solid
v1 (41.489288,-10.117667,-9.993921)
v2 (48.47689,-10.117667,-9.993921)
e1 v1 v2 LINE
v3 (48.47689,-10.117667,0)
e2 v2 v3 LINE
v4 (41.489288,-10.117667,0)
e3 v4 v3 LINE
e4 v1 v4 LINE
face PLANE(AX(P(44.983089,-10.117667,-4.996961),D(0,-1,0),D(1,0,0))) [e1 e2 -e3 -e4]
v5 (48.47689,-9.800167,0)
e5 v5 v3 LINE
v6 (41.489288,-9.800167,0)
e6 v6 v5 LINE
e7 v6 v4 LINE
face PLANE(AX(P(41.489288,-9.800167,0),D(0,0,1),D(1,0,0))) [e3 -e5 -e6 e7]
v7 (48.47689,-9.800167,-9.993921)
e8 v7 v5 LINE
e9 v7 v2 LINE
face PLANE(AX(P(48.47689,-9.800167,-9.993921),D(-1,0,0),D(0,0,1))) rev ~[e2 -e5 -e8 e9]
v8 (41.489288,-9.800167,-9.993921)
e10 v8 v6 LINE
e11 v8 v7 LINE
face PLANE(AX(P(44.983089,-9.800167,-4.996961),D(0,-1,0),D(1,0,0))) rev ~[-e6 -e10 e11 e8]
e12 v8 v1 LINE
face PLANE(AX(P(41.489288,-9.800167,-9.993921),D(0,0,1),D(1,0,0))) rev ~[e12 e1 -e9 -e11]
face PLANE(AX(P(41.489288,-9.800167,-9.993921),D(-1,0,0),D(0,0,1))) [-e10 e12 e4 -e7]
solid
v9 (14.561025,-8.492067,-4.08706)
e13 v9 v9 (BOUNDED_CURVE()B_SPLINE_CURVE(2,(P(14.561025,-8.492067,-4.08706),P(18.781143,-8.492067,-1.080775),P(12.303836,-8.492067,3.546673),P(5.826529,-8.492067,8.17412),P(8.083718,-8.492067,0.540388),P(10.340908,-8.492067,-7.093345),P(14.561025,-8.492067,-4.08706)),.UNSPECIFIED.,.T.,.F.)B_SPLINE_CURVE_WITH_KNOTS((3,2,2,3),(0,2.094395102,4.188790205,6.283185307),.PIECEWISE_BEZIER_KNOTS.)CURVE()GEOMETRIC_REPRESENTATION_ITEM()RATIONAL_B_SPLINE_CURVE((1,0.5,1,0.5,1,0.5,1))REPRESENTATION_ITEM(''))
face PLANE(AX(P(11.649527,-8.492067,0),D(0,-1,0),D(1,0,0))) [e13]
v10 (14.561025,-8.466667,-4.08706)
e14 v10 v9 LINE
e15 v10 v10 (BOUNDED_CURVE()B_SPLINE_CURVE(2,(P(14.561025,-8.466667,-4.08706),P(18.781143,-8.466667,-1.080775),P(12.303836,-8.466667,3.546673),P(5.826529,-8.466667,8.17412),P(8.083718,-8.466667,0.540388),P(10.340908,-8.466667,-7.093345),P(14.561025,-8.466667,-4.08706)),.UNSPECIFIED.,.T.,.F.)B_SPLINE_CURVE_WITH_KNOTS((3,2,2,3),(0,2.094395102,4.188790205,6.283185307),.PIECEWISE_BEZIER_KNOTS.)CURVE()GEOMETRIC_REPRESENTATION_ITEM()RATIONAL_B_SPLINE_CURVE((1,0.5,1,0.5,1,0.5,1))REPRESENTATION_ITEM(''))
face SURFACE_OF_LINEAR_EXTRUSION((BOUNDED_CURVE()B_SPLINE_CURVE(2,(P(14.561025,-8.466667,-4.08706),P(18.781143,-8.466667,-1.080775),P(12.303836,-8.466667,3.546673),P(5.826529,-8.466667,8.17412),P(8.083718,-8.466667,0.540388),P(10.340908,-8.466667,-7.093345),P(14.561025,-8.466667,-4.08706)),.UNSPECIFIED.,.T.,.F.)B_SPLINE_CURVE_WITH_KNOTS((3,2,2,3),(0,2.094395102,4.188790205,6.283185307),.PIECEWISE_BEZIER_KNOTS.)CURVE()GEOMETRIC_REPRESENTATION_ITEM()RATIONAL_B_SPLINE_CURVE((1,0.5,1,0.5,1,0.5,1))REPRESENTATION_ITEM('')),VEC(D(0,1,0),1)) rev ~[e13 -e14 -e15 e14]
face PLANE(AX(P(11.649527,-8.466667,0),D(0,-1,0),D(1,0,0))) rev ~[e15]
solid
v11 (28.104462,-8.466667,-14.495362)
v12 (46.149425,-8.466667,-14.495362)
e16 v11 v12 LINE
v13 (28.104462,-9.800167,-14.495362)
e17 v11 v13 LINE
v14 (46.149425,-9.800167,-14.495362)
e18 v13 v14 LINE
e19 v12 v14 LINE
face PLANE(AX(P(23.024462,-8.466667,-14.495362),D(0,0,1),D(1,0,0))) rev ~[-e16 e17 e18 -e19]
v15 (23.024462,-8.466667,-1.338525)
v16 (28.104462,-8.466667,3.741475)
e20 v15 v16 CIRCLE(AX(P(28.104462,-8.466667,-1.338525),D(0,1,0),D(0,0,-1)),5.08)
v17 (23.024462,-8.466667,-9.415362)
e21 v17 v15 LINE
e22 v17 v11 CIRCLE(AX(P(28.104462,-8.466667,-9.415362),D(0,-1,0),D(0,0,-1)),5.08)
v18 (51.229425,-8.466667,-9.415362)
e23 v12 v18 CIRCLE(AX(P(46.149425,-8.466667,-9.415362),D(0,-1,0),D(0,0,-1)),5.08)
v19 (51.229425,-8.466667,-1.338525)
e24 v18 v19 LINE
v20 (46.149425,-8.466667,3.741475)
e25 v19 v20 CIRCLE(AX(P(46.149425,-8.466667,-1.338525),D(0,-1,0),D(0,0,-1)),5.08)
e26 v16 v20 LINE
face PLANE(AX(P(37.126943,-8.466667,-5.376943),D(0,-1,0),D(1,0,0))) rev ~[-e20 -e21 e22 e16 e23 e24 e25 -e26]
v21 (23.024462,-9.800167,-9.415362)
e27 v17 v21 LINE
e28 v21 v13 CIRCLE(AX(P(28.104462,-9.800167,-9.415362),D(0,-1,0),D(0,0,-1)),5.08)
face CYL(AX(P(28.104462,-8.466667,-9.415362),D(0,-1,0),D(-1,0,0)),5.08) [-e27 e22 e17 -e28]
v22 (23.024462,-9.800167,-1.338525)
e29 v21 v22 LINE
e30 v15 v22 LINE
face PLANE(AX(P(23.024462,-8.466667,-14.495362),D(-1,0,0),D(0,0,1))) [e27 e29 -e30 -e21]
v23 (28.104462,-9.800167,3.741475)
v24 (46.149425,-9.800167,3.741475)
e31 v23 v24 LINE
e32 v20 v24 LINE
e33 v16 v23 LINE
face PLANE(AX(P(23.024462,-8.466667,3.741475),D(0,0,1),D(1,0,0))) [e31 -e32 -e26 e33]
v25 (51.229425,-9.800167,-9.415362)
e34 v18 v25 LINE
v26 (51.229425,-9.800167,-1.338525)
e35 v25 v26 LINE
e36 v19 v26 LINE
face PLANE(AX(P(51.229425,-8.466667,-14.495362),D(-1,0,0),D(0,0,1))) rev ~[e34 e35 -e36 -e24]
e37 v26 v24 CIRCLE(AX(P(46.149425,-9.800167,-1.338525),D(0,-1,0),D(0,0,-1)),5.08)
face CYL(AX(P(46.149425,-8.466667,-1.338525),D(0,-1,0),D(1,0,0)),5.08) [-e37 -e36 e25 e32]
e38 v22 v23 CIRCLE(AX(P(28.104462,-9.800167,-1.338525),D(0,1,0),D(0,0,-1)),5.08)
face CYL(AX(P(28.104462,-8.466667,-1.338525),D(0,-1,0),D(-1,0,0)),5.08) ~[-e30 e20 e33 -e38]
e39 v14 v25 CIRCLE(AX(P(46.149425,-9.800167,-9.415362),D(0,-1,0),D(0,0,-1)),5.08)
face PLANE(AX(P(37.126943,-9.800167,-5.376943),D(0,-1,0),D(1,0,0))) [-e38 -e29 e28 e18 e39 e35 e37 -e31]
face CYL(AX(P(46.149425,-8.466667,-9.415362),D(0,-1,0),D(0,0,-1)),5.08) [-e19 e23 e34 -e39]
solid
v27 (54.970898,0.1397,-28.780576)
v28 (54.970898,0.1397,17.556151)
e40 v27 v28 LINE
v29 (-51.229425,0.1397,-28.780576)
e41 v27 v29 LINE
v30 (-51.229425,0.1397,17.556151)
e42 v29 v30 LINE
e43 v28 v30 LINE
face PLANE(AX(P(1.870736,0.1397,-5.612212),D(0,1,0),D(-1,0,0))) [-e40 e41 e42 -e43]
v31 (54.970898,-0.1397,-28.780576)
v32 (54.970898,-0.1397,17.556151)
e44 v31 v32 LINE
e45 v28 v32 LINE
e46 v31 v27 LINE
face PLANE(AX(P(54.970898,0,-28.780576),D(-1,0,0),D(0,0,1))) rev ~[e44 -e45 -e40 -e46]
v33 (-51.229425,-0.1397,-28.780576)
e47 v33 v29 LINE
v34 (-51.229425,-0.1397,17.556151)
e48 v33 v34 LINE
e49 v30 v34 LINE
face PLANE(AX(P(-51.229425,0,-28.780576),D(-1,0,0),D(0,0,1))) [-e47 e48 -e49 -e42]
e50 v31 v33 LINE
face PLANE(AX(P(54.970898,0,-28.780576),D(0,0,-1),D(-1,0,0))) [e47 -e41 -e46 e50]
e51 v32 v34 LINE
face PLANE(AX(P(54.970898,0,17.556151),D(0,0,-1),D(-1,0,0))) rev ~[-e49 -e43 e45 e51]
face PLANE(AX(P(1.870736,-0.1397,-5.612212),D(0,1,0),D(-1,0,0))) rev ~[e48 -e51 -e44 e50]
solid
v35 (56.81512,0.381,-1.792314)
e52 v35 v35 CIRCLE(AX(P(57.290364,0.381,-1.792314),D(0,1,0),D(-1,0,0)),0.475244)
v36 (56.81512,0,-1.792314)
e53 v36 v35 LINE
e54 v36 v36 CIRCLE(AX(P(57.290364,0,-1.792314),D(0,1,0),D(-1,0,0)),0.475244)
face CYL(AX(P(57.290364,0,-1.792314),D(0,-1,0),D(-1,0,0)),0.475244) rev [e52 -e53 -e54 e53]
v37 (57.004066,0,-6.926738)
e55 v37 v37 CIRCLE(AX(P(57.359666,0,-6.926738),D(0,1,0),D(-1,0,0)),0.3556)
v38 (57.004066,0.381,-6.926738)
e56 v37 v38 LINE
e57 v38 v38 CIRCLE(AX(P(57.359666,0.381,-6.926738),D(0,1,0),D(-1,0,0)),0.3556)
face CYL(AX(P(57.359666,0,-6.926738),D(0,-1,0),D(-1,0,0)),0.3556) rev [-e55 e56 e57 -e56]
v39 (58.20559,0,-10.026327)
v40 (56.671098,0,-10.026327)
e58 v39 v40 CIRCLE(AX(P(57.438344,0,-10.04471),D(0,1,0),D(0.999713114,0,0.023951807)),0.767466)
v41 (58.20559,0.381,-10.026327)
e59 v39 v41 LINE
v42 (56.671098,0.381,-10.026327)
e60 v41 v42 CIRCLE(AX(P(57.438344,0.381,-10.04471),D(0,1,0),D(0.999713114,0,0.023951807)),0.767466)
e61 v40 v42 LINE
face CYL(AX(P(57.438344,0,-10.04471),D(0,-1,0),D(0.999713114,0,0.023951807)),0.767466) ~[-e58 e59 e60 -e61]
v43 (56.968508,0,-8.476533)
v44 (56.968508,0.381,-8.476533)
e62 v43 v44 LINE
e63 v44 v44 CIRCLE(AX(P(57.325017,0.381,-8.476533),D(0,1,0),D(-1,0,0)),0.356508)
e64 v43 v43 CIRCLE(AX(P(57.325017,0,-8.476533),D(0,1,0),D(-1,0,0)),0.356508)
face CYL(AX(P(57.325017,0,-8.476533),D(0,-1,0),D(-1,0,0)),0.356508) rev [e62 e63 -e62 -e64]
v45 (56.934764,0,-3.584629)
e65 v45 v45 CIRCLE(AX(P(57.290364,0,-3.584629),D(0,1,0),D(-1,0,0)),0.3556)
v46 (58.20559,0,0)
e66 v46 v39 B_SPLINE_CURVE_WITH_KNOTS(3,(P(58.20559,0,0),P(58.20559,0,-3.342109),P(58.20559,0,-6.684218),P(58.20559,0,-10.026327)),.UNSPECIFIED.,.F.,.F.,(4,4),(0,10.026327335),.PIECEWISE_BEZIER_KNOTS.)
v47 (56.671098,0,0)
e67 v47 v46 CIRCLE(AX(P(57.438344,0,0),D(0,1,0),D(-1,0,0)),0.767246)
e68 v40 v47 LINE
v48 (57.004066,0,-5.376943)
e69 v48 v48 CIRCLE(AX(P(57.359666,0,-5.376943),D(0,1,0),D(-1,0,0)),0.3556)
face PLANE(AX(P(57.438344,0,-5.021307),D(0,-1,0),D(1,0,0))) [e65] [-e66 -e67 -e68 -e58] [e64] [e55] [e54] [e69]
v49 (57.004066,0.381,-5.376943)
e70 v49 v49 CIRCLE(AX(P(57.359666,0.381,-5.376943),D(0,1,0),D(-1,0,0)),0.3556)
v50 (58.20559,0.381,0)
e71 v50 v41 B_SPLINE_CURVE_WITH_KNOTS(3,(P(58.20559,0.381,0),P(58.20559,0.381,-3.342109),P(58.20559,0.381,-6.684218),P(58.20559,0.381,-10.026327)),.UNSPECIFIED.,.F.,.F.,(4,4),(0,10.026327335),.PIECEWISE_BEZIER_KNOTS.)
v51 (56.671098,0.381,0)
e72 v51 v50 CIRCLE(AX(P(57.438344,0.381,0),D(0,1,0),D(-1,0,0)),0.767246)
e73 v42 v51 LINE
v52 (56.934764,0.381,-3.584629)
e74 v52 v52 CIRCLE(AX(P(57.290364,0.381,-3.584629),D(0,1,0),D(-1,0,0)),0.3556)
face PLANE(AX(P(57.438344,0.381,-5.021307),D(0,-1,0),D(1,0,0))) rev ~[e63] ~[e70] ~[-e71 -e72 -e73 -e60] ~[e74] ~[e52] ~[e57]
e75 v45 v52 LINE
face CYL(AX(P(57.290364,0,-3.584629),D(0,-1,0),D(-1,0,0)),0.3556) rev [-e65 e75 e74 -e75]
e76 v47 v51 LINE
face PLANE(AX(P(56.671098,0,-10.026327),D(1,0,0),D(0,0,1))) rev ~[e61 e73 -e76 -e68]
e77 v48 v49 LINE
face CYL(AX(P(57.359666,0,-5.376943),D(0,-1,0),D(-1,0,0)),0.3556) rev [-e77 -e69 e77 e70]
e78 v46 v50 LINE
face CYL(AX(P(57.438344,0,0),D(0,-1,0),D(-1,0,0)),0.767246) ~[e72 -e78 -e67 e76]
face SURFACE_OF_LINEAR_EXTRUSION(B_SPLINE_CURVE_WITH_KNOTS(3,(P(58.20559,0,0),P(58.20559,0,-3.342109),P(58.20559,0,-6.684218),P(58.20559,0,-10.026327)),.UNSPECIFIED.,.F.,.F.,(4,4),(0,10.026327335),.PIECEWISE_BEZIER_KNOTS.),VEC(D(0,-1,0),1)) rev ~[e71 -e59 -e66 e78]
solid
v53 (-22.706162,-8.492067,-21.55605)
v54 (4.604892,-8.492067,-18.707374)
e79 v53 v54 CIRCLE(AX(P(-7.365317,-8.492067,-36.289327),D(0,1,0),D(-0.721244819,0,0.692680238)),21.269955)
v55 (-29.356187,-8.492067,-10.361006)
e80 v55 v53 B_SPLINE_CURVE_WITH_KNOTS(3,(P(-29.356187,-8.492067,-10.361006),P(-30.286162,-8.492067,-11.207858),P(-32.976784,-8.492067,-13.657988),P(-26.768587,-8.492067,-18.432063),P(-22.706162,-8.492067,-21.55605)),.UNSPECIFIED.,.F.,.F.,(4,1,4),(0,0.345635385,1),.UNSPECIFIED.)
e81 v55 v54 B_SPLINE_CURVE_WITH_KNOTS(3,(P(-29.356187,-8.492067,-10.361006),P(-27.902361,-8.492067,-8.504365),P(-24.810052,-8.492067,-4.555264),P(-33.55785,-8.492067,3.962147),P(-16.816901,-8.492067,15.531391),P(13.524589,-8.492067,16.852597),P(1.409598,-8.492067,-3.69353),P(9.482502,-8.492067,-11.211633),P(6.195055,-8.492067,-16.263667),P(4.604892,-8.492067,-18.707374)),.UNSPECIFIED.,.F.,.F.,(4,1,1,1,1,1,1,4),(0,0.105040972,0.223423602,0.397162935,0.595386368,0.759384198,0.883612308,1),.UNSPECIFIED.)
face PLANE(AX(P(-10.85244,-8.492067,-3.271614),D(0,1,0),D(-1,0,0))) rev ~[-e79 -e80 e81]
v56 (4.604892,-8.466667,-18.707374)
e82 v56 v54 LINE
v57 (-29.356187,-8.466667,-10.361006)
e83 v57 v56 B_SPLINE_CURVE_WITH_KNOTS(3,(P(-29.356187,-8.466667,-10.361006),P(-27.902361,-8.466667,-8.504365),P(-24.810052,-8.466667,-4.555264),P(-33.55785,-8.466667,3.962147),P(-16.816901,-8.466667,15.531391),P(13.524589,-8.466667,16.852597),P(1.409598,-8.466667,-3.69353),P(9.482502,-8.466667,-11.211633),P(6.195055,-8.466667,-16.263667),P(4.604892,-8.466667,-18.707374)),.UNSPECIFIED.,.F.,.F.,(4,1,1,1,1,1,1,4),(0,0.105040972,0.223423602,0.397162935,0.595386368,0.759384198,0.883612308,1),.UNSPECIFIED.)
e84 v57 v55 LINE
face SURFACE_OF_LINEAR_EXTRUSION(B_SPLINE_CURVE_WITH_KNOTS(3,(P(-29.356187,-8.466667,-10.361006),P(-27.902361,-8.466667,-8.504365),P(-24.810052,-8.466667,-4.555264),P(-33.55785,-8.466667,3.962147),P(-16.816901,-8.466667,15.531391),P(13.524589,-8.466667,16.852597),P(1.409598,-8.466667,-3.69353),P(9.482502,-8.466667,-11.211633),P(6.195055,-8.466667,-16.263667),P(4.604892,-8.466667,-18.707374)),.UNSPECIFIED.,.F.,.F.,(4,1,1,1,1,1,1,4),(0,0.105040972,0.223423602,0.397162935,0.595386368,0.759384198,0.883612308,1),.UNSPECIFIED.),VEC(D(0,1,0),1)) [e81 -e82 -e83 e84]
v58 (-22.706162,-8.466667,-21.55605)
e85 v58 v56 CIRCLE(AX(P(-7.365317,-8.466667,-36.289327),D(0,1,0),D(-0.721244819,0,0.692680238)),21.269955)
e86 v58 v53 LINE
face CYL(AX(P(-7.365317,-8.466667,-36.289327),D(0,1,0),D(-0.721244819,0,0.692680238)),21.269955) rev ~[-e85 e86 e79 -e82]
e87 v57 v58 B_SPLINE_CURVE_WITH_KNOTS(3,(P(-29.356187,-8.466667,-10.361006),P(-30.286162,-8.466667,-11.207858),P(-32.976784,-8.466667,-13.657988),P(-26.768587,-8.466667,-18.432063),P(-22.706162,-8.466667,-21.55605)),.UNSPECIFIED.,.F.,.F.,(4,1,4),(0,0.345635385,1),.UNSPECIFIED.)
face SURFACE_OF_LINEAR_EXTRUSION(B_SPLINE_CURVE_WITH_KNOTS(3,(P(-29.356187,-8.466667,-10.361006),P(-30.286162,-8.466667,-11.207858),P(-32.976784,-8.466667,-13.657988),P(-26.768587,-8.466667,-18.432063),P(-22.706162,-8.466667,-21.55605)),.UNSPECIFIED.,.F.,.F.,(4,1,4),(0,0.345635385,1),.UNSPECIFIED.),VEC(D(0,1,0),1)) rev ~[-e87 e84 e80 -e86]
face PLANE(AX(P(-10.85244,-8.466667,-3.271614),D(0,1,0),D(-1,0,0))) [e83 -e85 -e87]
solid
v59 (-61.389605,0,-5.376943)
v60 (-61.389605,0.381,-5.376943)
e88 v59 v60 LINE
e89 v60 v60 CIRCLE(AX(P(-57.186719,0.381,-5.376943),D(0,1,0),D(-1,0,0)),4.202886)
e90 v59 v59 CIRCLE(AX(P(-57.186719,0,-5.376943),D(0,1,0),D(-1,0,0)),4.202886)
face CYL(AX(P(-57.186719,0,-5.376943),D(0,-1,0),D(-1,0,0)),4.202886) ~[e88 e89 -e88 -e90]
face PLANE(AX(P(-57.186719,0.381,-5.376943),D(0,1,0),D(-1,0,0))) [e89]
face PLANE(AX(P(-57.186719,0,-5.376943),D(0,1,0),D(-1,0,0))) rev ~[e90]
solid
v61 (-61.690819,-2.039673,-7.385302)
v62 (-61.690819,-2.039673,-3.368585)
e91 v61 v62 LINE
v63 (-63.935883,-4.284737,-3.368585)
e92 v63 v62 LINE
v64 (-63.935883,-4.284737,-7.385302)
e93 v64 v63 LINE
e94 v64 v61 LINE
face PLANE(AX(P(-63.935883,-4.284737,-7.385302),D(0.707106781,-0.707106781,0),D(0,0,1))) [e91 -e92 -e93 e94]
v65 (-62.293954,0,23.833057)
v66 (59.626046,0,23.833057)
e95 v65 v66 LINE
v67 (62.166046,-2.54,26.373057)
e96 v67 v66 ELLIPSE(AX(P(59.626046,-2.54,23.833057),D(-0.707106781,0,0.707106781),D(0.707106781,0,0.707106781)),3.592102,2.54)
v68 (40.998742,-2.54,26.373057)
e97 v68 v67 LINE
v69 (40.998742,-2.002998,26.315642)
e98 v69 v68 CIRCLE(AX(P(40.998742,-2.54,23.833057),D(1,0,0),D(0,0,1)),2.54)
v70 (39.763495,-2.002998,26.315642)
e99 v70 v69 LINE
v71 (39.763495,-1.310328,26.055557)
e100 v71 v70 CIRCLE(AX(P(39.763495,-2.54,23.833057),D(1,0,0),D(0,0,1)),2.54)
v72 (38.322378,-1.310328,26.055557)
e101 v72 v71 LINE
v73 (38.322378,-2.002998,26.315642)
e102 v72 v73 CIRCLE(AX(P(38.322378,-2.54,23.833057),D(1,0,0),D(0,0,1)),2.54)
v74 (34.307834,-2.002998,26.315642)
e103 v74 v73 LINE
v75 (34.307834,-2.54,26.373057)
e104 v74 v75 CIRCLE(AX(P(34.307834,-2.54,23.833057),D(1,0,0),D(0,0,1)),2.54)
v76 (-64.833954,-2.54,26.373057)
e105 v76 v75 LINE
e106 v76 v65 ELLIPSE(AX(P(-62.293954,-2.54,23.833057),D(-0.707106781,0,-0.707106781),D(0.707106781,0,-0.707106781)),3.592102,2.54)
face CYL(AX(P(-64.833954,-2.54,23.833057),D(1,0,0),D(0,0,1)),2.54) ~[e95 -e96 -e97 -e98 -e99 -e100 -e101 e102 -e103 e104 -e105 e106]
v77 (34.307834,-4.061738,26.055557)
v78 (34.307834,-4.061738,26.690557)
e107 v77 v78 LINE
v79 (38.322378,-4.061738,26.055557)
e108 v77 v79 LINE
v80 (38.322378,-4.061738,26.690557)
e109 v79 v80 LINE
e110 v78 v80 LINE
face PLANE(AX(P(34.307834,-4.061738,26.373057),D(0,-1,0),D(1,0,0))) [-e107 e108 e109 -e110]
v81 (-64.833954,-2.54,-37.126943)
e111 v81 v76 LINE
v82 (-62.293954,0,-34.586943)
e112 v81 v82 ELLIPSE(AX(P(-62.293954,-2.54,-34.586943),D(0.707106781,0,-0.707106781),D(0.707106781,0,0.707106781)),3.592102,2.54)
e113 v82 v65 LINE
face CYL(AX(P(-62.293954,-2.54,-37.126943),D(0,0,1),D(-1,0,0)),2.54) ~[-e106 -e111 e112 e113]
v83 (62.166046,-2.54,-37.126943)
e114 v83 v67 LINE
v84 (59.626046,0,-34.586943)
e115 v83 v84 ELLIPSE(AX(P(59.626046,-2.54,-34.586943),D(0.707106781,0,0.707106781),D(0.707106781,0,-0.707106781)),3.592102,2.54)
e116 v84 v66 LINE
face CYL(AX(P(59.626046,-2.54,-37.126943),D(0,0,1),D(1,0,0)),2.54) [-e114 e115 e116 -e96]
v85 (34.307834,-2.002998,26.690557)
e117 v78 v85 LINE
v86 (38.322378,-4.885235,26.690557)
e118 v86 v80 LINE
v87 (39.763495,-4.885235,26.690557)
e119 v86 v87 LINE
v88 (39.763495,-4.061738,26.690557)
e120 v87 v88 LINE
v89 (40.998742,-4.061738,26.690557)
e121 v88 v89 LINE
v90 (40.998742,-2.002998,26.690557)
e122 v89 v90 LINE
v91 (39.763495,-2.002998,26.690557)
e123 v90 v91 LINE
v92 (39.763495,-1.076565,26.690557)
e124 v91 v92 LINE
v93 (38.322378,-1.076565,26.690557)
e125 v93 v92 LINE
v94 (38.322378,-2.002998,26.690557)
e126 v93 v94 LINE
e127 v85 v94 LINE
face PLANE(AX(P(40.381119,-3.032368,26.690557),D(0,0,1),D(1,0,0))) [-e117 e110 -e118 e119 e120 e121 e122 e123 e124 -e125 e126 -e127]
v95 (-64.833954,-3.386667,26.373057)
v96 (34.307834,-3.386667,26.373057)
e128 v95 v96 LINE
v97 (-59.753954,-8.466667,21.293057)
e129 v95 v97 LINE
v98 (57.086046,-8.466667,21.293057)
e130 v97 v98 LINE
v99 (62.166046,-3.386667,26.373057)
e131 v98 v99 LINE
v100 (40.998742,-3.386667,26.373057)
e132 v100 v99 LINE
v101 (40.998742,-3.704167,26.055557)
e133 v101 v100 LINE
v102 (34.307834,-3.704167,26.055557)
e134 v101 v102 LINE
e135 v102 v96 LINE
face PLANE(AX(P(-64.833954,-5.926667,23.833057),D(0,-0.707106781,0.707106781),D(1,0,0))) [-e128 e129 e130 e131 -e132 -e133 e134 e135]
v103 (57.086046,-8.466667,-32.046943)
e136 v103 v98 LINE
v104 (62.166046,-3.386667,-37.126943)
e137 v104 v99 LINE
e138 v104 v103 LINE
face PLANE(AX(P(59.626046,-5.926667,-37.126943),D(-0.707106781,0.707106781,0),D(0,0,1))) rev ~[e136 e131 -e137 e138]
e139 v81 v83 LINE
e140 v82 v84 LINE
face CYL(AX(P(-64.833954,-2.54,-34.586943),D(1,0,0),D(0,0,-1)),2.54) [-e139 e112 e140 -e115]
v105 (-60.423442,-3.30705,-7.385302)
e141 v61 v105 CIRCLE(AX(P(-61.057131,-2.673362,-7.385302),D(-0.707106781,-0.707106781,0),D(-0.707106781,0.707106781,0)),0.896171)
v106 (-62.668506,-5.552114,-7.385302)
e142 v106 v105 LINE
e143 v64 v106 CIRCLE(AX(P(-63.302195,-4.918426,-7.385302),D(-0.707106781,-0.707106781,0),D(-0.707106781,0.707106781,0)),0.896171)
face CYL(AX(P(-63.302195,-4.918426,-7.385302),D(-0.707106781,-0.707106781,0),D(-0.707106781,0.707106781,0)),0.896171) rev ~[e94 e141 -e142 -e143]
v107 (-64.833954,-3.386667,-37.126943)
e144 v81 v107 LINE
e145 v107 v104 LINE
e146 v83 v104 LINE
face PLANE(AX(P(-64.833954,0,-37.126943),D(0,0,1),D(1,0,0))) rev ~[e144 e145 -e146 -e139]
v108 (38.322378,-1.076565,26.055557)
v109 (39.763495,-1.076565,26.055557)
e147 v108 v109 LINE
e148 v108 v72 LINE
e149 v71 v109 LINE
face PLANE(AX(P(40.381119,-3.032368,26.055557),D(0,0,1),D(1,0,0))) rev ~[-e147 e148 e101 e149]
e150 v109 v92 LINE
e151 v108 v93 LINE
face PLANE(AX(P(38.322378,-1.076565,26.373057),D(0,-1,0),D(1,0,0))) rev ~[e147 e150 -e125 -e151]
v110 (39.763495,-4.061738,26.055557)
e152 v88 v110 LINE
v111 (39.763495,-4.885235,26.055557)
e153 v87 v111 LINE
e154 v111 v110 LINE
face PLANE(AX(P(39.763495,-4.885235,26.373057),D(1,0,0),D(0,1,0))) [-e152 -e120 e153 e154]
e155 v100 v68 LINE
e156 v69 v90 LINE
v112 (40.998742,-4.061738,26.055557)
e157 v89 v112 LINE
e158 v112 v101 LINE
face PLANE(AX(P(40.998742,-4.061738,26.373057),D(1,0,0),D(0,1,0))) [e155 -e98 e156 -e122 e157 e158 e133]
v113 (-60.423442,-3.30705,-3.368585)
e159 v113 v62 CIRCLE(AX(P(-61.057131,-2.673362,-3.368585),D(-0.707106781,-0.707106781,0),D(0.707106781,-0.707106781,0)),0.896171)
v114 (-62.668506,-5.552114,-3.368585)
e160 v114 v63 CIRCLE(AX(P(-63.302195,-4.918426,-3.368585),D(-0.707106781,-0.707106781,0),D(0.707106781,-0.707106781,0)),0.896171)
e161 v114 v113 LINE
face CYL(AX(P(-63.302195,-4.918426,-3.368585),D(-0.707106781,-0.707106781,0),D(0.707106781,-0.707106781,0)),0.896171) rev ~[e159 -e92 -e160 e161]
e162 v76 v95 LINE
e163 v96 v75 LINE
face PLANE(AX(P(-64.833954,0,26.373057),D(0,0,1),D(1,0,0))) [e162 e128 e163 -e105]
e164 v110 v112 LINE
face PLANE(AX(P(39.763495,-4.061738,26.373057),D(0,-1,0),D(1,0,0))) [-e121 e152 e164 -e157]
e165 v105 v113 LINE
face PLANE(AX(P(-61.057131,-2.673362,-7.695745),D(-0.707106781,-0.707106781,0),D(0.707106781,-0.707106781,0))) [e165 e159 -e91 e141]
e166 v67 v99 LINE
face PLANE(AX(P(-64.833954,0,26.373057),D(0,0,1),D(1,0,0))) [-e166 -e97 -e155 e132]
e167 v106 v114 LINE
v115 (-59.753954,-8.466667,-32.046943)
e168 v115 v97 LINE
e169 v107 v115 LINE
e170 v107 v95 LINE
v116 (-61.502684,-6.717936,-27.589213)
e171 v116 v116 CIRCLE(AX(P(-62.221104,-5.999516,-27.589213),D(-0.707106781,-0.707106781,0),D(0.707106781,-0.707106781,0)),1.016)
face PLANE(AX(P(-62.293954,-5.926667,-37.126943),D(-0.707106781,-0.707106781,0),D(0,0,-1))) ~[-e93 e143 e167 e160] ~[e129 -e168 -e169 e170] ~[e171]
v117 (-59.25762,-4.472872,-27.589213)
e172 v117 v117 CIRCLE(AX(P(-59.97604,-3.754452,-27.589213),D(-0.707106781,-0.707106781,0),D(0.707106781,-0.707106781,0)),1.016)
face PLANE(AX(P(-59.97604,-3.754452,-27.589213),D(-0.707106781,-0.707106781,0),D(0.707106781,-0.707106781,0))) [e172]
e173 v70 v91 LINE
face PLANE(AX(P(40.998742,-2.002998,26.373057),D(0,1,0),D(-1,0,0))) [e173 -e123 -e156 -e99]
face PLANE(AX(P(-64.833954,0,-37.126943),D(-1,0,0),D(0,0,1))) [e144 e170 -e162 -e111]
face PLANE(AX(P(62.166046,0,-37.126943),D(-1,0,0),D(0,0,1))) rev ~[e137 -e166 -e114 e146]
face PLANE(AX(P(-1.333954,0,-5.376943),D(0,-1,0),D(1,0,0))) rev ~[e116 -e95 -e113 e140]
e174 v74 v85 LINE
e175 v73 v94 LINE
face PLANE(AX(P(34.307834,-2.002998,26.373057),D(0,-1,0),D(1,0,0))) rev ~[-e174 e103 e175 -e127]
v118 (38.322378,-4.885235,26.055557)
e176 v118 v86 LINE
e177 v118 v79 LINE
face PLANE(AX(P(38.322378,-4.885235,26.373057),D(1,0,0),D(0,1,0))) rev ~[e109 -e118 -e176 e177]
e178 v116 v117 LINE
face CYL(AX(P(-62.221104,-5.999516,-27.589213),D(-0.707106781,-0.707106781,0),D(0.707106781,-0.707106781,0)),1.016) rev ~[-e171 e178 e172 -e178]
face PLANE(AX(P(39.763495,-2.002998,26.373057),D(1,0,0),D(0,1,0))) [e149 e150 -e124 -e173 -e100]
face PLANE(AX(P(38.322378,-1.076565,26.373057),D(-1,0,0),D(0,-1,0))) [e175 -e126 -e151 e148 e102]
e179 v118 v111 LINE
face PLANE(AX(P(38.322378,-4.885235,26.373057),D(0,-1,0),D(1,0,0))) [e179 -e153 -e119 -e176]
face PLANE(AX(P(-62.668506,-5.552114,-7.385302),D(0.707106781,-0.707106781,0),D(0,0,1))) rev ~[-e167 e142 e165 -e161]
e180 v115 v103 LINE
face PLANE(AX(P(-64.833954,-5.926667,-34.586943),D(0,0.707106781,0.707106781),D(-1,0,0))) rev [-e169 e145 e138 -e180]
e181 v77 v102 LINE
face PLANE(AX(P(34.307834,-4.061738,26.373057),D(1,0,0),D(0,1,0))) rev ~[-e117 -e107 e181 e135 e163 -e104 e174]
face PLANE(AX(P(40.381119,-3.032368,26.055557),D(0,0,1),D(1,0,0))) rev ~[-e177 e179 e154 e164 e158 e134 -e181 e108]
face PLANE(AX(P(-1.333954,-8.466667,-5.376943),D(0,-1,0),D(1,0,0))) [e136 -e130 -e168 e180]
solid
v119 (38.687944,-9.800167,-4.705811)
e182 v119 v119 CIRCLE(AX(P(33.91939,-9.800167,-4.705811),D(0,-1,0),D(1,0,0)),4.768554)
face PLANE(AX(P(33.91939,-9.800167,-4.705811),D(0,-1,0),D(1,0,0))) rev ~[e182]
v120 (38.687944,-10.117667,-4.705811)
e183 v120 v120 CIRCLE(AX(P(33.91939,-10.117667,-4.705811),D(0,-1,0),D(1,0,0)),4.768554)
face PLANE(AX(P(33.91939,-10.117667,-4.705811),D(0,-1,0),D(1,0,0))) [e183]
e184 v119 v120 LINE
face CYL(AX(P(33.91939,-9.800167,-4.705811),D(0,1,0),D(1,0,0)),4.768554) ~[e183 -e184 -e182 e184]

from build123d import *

# Parameters (mm, degrees)
F0_W      = 127
F0_H      = 63.5
F1_DEPTH  = 8.4666666667
F2_R      = 2.54
F3_W      = 106.2003225088
F3_H      = 46.3367272168
F4_DEPTH  = 0.1397
F5_SIZE   = 5.08
F6_R      = 4.2028856968
F7_DEPTH  = 0.381
F8_R      = 0.356508333
F8_R_2    = 0.3556
F8_R_3    = 0.4752442837
F9_DEPTH  = 0.381
F10_W     = 28.2049626112
F10_H     = 18.2368370481
F11_DEPTH = 1.3335
F12_R     = 5.08
F13_W     = 6.9876015186
F13_H     = 9.993921034
F14_DEPTH = 0.3175
F13_R     = 4.7685535727
F15_W     = 1.7923414707
F15_H     = 4.0167168006
F16_DEPTH = 3.175
F17_R     = 1.016
F18_DEPTH = 3.175
F19_W     = 1.2352466583
F19_H     = 2.0587400068
F19_W_2   = 1.4411173761
F19_H_2   = 0.9264331311
F19_W_3   = 4.014544189
F19_H_3   = 0.8234963752
F20_DEPTH = 0.3175
F22_DEPTH = 0.0254


with BuildPart() as f1:
    # F0 (on Front) → F1 (new body)
    with BuildSketch(Plane.XZ):
        with Locations((-1.3339536488, -5.376943469)):
            Rectangle(F0_W, F0_H)
    extrude(amount=F1_DEPTH)

    # F2
    f2_edges = [f1.edges().sort_by_distance(p)[0] for p in [
        (-1.333954, 0, 26.373057),
        (-64.833954, 0, -5.376943),
        (-1.333954, 0, -37.126943),
        (62.166046, 0, -5.376943),
    ]]
    fillet(f2_edges, radius=F2_R)

    # F5
    f5_edges = [f1.edges().sort_by_distance(p)[0] for p in [
        (-64.833954, -2.54, -5.376943),
        (-64.833954, -8.466667, -5.376943),
        (-1.333954, -8.466667, 26.373057),
        (-1.333954, -8.466667, -37.126943),
        (62.166046, -8.466667, -5.376943),
    ]]
    chamfer(f5_edges, length=F5_SIZE)

    # F15 (on face) → F16 (cut)
    with BuildSketch(Plane(origin=(-34.1103101577, -34.1103101577, 0), x_dir=(0.7071067812, -0.7071067812, 0), z_dir=(-0.7071067812, -0.7071067812, 0))):
        with BuildLine():
            ThreePointArc((-42.1797297895, -7.3853018694), (-41.2835590541, -8.2814726047), (-40.3873883188, -7.3853018694))
            Line((-40.3873883188, -7.3853018694), (-42.1797297895, -7.3853018694))
        make_face()
        with Locations((-41.2835590541, -5.376943469)):
            Rectangle(F15_W, F15_H)
        with BuildLine():
            Line((-42.1797297895, -3.3685850687), (-40.3873883188, -3.3685850687))
            ThreePointArc((-40.3873883188, -3.3685850687), (-41.2835590541, -2.4724143334), (-42.1797297895, -3.3685850687))
        make_face()
    extrude(amount=-F16_DEPTH, mode=Mode.SUBTRACT)

    # F17 (on face) → F18 (cut)
    with BuildSketch(Plane(origin=(-34.1103101577, -34.1103101577, 0), x_dir=(0.7071067812, -0.7071067812, 0), z_dir=(-0.7071067812, -0.7071067812, 0))):
        with Locations((-39.754666388, -27.5892131031)):
            Circle(F17_R)
    extrude(amount=-F18_DEPTH, mode=Mode.SUBTRACT)

    # F19 (on face) → F20 (join, symmetric)
    with BuildSketch(Plane.XY.offset(26.373056531)):
        with Locations((40.3811186552, -3.0323684914)):
            Rectangle(F19_W, F19_H)
        with Locations((39.042936638, -3.0323684914)):
            Rectangle(F19_W_2, F19_H)
        with Locations((39.042936638, -1.5397819225)):
            Rectangle(F19_W_2, F19_H_2)
        with Locations((36.3151058555, -3.0323684914)):
            Rectangle(F19_W_3, F19_H)
        with Locations((39.042936638, -4.4734866824)):
            Rectangle(F19_W_2, F19_H_3)
    extrude(amount=F20_DEPTH, both=True)


with BuildPart() as f4:
    # F3 (on face) → F4 (new body, symmetric)
    with BuildSketch(Plane(origin=(0, 0, 0), x_dir=(-1, 0, 0), z_dir=(0, 1, 0))):
        with Locations((-1.8707364798, -5.6122122332)):
            Rectangle(F3_W, F3_H)
    extrude(amount=F4_DEPTH, both=True)


with BuildPart() as f7:
    # F6 (on face) → F7 (new body)
    with BuildSketch(Plane(origin=(0, 0, 0), x_dir=(-1, 0, 0), z_dir=(0, 1, 0))):
        with Locations((57.1867190301, -5.376943469)):
            Circle(F6_R)
    extrude(amount=F7_DEPTH)


with BuildPart() as f9:
    # F8 (on face) → F9 (new body)
    with BuildSketch(Plane(origin=(0, 0, 0), x_dir=(-1, 0, 0), z_dir=(0, 1, 0))):
        with BuildLine():
            add(Edge.make_bspline(
                [(-58.2055896521, -5.376943469), (-58.2055896521, -3.5846289794), (-58.2055896521, -1.7923144897), (-58.2055896521, 0)],
                knots=[0, 0, 0, 0, 5.376943469, 5.376943469, 5.376943469, 5.376943469], degree=3))
            add(Edge.make_bspline(
                [(-58.2055896521, -5.376943469), (-58.2055896521, -6.9267380908), (-58.2055896521, -8.4765327126), (-58.2055896521, -10.0263273343)],
                knots=[0, 0, 0, 0, 4.6493838653, 4.6493838653, 4.6493838653, 4.6493838653], degree=3))
            ThreePointArc((-58.2055896521, -10.0263273343), (-57.4383437634, -10.812175597), (-56.6710978746, -10.0263273343))
            Line((-56.6710978746, -10.0263273343), (-56.6710978746, 0))
            ThreePointArc((-56.6710978746, 0), (-57.4383437634, 0.7672458887), (-58.2055896521, 0))
        make_face()
        with Locations((-57.3250167072, -8.4765327126)):
            Circle(F8_R, mode=Mode.SUBTRACT)
        with Locations((-57.3596656322, -6.9267380908)):
            Circle(F8_R_2, mode=Mode.SUBTRACT)
        with Locations((-57.3596656322, -5.376943469)):
            Circle(F8_R_2, mode=Mode.SUBTRACT)
        with Locations((-57.2903640568, -3.5846289794)):
            Circle(F8_R_2, mode=Mode.SUBTRACT)
        with Locations((-57.2903640568, -1.7923144897)):
            Circle(F8_R_3, mode=Mode.SUBTRACT)
    extrude(amount=F9_DEPTH)


with BuildPart() as f11:
    # F10 (on face) → F11 (new body)
    with BuildSketch(Plane.XZ.offset(8.4666666667)):
        with Locations((37.126943469, -5.376943469)):
            Rectangle(F10_W, F10_H)
    extrude(amount=F11_DEPTH)

    # F12
    f12_edges = [f11.edges().sort_by_distance(p)[0] for p in [
        (51.229425, -9.133417, -14.495362),
        (51.229425, -9.133417, 3.741475),
        (23.024462, -9.133417, -14.495362),
        (23.024462, -9.133417, 3.741475),
    ]]
    fillet(f12_edges, radius=F12_R)


with BuildPart() as f14:
    # F13 (on face) → F14 (new body)
    with BuildSketch(Plane.XZ.offset(9.8001666667)):
        with Locations((44.9830889702, -4.996960517)):
            Rectangle(F13_W, F13_H)
    extrude(amount=F14_DEPTH)


with BuildPart() as f14b:
    # F13 (on face) → F14, piece 2 (new body)
    with BuildSketch(Plane.XZ.offset(9.8001666667)):
        with Locations((33.919390291, -4.7058109194)):
            Circle(F13_R)
    extrude(amount=F14_DEPTH)


with BuildPart() as f22:
    # F21 (on face) → F22 (new body)
    with BuildSketch(Plane.XZ.offset(8.4666666667)):
        with BuildLine():
            add(Edge.make_bspline(
                [(-29.3561872095, -10.3610064834), (-27.9023607324, -8.5043653152), (-24.8100516889, -4.5552638469), (-33.5578495132, 3.962147113), (-16.8169005892, 15.5313912391), (13.5245889556, 16.8525969839), (1.4095976482, -3.6935297533), (9.4825015324, -11.211632561), (6.1950551378, -16.2636667767), (4.6048923396, -18.7073741108)],
                knots=[0, 0, 0, 0, 0.105040972, 0.2234236017, 0.3971629351, 0.595386368, 0.7593841976, 0.8836123082, 1, 1, 1, 1], degree=3))
            add(Edge.make_bspline(
                [(-29.3561872095, -10.3610064834), (-30.2861615246, -11.2078580395), (-32.9767839407, -13.6579878366), (-26.7685867487, -18.4320634412), (-22.7061621845, -21.5560495853)],
                knots=[0, 0, 0, 0, 0.3456353852, 1, 1, 1, 1], degree=3))
            ThreePointArc((-22.7061621845, -21.5560495853), (-9.5719059436, -15.1341396755), (4.6048923396, -18.7073741108))
        make_face()
    extrude(amount=F22_DEPTH)


with BuildPart() as f22b:
    # F21 (on face) → F22, piece 2 (new body)
    with BuildSketch(Plane.XZ.offset(8.4666666667)):
        with BuildLine():
            add(Edge.make_bspline(
                [(14.5610254258, -4.0870602243), (18.7811430537, -1.080775362), (12.3038360845, 3.5466725433), (5.8265291154, 8.1741204485), (8.0837184567, 0.540387681), (10.3409077979, -7.0933450865), (14.5610254258, -4.0870602243)],
                knots=[0, 0, 0, 2.0943951024, 2.0943951024, 4.1887902048, 4.1887902048, 6.2831853072, 6.2831853072, 6.2831853072], degree=2, weights=[1, 0.5, 1, 0.5, 1, 0.5, 1]))
        make_face()
    extrude(amount=F22_DEPTH)


solid = Compound([f1.part, f4.part, f7.part, f9.part, f11.part, f14.part, f14b.part, f22.part, f22b.part])
